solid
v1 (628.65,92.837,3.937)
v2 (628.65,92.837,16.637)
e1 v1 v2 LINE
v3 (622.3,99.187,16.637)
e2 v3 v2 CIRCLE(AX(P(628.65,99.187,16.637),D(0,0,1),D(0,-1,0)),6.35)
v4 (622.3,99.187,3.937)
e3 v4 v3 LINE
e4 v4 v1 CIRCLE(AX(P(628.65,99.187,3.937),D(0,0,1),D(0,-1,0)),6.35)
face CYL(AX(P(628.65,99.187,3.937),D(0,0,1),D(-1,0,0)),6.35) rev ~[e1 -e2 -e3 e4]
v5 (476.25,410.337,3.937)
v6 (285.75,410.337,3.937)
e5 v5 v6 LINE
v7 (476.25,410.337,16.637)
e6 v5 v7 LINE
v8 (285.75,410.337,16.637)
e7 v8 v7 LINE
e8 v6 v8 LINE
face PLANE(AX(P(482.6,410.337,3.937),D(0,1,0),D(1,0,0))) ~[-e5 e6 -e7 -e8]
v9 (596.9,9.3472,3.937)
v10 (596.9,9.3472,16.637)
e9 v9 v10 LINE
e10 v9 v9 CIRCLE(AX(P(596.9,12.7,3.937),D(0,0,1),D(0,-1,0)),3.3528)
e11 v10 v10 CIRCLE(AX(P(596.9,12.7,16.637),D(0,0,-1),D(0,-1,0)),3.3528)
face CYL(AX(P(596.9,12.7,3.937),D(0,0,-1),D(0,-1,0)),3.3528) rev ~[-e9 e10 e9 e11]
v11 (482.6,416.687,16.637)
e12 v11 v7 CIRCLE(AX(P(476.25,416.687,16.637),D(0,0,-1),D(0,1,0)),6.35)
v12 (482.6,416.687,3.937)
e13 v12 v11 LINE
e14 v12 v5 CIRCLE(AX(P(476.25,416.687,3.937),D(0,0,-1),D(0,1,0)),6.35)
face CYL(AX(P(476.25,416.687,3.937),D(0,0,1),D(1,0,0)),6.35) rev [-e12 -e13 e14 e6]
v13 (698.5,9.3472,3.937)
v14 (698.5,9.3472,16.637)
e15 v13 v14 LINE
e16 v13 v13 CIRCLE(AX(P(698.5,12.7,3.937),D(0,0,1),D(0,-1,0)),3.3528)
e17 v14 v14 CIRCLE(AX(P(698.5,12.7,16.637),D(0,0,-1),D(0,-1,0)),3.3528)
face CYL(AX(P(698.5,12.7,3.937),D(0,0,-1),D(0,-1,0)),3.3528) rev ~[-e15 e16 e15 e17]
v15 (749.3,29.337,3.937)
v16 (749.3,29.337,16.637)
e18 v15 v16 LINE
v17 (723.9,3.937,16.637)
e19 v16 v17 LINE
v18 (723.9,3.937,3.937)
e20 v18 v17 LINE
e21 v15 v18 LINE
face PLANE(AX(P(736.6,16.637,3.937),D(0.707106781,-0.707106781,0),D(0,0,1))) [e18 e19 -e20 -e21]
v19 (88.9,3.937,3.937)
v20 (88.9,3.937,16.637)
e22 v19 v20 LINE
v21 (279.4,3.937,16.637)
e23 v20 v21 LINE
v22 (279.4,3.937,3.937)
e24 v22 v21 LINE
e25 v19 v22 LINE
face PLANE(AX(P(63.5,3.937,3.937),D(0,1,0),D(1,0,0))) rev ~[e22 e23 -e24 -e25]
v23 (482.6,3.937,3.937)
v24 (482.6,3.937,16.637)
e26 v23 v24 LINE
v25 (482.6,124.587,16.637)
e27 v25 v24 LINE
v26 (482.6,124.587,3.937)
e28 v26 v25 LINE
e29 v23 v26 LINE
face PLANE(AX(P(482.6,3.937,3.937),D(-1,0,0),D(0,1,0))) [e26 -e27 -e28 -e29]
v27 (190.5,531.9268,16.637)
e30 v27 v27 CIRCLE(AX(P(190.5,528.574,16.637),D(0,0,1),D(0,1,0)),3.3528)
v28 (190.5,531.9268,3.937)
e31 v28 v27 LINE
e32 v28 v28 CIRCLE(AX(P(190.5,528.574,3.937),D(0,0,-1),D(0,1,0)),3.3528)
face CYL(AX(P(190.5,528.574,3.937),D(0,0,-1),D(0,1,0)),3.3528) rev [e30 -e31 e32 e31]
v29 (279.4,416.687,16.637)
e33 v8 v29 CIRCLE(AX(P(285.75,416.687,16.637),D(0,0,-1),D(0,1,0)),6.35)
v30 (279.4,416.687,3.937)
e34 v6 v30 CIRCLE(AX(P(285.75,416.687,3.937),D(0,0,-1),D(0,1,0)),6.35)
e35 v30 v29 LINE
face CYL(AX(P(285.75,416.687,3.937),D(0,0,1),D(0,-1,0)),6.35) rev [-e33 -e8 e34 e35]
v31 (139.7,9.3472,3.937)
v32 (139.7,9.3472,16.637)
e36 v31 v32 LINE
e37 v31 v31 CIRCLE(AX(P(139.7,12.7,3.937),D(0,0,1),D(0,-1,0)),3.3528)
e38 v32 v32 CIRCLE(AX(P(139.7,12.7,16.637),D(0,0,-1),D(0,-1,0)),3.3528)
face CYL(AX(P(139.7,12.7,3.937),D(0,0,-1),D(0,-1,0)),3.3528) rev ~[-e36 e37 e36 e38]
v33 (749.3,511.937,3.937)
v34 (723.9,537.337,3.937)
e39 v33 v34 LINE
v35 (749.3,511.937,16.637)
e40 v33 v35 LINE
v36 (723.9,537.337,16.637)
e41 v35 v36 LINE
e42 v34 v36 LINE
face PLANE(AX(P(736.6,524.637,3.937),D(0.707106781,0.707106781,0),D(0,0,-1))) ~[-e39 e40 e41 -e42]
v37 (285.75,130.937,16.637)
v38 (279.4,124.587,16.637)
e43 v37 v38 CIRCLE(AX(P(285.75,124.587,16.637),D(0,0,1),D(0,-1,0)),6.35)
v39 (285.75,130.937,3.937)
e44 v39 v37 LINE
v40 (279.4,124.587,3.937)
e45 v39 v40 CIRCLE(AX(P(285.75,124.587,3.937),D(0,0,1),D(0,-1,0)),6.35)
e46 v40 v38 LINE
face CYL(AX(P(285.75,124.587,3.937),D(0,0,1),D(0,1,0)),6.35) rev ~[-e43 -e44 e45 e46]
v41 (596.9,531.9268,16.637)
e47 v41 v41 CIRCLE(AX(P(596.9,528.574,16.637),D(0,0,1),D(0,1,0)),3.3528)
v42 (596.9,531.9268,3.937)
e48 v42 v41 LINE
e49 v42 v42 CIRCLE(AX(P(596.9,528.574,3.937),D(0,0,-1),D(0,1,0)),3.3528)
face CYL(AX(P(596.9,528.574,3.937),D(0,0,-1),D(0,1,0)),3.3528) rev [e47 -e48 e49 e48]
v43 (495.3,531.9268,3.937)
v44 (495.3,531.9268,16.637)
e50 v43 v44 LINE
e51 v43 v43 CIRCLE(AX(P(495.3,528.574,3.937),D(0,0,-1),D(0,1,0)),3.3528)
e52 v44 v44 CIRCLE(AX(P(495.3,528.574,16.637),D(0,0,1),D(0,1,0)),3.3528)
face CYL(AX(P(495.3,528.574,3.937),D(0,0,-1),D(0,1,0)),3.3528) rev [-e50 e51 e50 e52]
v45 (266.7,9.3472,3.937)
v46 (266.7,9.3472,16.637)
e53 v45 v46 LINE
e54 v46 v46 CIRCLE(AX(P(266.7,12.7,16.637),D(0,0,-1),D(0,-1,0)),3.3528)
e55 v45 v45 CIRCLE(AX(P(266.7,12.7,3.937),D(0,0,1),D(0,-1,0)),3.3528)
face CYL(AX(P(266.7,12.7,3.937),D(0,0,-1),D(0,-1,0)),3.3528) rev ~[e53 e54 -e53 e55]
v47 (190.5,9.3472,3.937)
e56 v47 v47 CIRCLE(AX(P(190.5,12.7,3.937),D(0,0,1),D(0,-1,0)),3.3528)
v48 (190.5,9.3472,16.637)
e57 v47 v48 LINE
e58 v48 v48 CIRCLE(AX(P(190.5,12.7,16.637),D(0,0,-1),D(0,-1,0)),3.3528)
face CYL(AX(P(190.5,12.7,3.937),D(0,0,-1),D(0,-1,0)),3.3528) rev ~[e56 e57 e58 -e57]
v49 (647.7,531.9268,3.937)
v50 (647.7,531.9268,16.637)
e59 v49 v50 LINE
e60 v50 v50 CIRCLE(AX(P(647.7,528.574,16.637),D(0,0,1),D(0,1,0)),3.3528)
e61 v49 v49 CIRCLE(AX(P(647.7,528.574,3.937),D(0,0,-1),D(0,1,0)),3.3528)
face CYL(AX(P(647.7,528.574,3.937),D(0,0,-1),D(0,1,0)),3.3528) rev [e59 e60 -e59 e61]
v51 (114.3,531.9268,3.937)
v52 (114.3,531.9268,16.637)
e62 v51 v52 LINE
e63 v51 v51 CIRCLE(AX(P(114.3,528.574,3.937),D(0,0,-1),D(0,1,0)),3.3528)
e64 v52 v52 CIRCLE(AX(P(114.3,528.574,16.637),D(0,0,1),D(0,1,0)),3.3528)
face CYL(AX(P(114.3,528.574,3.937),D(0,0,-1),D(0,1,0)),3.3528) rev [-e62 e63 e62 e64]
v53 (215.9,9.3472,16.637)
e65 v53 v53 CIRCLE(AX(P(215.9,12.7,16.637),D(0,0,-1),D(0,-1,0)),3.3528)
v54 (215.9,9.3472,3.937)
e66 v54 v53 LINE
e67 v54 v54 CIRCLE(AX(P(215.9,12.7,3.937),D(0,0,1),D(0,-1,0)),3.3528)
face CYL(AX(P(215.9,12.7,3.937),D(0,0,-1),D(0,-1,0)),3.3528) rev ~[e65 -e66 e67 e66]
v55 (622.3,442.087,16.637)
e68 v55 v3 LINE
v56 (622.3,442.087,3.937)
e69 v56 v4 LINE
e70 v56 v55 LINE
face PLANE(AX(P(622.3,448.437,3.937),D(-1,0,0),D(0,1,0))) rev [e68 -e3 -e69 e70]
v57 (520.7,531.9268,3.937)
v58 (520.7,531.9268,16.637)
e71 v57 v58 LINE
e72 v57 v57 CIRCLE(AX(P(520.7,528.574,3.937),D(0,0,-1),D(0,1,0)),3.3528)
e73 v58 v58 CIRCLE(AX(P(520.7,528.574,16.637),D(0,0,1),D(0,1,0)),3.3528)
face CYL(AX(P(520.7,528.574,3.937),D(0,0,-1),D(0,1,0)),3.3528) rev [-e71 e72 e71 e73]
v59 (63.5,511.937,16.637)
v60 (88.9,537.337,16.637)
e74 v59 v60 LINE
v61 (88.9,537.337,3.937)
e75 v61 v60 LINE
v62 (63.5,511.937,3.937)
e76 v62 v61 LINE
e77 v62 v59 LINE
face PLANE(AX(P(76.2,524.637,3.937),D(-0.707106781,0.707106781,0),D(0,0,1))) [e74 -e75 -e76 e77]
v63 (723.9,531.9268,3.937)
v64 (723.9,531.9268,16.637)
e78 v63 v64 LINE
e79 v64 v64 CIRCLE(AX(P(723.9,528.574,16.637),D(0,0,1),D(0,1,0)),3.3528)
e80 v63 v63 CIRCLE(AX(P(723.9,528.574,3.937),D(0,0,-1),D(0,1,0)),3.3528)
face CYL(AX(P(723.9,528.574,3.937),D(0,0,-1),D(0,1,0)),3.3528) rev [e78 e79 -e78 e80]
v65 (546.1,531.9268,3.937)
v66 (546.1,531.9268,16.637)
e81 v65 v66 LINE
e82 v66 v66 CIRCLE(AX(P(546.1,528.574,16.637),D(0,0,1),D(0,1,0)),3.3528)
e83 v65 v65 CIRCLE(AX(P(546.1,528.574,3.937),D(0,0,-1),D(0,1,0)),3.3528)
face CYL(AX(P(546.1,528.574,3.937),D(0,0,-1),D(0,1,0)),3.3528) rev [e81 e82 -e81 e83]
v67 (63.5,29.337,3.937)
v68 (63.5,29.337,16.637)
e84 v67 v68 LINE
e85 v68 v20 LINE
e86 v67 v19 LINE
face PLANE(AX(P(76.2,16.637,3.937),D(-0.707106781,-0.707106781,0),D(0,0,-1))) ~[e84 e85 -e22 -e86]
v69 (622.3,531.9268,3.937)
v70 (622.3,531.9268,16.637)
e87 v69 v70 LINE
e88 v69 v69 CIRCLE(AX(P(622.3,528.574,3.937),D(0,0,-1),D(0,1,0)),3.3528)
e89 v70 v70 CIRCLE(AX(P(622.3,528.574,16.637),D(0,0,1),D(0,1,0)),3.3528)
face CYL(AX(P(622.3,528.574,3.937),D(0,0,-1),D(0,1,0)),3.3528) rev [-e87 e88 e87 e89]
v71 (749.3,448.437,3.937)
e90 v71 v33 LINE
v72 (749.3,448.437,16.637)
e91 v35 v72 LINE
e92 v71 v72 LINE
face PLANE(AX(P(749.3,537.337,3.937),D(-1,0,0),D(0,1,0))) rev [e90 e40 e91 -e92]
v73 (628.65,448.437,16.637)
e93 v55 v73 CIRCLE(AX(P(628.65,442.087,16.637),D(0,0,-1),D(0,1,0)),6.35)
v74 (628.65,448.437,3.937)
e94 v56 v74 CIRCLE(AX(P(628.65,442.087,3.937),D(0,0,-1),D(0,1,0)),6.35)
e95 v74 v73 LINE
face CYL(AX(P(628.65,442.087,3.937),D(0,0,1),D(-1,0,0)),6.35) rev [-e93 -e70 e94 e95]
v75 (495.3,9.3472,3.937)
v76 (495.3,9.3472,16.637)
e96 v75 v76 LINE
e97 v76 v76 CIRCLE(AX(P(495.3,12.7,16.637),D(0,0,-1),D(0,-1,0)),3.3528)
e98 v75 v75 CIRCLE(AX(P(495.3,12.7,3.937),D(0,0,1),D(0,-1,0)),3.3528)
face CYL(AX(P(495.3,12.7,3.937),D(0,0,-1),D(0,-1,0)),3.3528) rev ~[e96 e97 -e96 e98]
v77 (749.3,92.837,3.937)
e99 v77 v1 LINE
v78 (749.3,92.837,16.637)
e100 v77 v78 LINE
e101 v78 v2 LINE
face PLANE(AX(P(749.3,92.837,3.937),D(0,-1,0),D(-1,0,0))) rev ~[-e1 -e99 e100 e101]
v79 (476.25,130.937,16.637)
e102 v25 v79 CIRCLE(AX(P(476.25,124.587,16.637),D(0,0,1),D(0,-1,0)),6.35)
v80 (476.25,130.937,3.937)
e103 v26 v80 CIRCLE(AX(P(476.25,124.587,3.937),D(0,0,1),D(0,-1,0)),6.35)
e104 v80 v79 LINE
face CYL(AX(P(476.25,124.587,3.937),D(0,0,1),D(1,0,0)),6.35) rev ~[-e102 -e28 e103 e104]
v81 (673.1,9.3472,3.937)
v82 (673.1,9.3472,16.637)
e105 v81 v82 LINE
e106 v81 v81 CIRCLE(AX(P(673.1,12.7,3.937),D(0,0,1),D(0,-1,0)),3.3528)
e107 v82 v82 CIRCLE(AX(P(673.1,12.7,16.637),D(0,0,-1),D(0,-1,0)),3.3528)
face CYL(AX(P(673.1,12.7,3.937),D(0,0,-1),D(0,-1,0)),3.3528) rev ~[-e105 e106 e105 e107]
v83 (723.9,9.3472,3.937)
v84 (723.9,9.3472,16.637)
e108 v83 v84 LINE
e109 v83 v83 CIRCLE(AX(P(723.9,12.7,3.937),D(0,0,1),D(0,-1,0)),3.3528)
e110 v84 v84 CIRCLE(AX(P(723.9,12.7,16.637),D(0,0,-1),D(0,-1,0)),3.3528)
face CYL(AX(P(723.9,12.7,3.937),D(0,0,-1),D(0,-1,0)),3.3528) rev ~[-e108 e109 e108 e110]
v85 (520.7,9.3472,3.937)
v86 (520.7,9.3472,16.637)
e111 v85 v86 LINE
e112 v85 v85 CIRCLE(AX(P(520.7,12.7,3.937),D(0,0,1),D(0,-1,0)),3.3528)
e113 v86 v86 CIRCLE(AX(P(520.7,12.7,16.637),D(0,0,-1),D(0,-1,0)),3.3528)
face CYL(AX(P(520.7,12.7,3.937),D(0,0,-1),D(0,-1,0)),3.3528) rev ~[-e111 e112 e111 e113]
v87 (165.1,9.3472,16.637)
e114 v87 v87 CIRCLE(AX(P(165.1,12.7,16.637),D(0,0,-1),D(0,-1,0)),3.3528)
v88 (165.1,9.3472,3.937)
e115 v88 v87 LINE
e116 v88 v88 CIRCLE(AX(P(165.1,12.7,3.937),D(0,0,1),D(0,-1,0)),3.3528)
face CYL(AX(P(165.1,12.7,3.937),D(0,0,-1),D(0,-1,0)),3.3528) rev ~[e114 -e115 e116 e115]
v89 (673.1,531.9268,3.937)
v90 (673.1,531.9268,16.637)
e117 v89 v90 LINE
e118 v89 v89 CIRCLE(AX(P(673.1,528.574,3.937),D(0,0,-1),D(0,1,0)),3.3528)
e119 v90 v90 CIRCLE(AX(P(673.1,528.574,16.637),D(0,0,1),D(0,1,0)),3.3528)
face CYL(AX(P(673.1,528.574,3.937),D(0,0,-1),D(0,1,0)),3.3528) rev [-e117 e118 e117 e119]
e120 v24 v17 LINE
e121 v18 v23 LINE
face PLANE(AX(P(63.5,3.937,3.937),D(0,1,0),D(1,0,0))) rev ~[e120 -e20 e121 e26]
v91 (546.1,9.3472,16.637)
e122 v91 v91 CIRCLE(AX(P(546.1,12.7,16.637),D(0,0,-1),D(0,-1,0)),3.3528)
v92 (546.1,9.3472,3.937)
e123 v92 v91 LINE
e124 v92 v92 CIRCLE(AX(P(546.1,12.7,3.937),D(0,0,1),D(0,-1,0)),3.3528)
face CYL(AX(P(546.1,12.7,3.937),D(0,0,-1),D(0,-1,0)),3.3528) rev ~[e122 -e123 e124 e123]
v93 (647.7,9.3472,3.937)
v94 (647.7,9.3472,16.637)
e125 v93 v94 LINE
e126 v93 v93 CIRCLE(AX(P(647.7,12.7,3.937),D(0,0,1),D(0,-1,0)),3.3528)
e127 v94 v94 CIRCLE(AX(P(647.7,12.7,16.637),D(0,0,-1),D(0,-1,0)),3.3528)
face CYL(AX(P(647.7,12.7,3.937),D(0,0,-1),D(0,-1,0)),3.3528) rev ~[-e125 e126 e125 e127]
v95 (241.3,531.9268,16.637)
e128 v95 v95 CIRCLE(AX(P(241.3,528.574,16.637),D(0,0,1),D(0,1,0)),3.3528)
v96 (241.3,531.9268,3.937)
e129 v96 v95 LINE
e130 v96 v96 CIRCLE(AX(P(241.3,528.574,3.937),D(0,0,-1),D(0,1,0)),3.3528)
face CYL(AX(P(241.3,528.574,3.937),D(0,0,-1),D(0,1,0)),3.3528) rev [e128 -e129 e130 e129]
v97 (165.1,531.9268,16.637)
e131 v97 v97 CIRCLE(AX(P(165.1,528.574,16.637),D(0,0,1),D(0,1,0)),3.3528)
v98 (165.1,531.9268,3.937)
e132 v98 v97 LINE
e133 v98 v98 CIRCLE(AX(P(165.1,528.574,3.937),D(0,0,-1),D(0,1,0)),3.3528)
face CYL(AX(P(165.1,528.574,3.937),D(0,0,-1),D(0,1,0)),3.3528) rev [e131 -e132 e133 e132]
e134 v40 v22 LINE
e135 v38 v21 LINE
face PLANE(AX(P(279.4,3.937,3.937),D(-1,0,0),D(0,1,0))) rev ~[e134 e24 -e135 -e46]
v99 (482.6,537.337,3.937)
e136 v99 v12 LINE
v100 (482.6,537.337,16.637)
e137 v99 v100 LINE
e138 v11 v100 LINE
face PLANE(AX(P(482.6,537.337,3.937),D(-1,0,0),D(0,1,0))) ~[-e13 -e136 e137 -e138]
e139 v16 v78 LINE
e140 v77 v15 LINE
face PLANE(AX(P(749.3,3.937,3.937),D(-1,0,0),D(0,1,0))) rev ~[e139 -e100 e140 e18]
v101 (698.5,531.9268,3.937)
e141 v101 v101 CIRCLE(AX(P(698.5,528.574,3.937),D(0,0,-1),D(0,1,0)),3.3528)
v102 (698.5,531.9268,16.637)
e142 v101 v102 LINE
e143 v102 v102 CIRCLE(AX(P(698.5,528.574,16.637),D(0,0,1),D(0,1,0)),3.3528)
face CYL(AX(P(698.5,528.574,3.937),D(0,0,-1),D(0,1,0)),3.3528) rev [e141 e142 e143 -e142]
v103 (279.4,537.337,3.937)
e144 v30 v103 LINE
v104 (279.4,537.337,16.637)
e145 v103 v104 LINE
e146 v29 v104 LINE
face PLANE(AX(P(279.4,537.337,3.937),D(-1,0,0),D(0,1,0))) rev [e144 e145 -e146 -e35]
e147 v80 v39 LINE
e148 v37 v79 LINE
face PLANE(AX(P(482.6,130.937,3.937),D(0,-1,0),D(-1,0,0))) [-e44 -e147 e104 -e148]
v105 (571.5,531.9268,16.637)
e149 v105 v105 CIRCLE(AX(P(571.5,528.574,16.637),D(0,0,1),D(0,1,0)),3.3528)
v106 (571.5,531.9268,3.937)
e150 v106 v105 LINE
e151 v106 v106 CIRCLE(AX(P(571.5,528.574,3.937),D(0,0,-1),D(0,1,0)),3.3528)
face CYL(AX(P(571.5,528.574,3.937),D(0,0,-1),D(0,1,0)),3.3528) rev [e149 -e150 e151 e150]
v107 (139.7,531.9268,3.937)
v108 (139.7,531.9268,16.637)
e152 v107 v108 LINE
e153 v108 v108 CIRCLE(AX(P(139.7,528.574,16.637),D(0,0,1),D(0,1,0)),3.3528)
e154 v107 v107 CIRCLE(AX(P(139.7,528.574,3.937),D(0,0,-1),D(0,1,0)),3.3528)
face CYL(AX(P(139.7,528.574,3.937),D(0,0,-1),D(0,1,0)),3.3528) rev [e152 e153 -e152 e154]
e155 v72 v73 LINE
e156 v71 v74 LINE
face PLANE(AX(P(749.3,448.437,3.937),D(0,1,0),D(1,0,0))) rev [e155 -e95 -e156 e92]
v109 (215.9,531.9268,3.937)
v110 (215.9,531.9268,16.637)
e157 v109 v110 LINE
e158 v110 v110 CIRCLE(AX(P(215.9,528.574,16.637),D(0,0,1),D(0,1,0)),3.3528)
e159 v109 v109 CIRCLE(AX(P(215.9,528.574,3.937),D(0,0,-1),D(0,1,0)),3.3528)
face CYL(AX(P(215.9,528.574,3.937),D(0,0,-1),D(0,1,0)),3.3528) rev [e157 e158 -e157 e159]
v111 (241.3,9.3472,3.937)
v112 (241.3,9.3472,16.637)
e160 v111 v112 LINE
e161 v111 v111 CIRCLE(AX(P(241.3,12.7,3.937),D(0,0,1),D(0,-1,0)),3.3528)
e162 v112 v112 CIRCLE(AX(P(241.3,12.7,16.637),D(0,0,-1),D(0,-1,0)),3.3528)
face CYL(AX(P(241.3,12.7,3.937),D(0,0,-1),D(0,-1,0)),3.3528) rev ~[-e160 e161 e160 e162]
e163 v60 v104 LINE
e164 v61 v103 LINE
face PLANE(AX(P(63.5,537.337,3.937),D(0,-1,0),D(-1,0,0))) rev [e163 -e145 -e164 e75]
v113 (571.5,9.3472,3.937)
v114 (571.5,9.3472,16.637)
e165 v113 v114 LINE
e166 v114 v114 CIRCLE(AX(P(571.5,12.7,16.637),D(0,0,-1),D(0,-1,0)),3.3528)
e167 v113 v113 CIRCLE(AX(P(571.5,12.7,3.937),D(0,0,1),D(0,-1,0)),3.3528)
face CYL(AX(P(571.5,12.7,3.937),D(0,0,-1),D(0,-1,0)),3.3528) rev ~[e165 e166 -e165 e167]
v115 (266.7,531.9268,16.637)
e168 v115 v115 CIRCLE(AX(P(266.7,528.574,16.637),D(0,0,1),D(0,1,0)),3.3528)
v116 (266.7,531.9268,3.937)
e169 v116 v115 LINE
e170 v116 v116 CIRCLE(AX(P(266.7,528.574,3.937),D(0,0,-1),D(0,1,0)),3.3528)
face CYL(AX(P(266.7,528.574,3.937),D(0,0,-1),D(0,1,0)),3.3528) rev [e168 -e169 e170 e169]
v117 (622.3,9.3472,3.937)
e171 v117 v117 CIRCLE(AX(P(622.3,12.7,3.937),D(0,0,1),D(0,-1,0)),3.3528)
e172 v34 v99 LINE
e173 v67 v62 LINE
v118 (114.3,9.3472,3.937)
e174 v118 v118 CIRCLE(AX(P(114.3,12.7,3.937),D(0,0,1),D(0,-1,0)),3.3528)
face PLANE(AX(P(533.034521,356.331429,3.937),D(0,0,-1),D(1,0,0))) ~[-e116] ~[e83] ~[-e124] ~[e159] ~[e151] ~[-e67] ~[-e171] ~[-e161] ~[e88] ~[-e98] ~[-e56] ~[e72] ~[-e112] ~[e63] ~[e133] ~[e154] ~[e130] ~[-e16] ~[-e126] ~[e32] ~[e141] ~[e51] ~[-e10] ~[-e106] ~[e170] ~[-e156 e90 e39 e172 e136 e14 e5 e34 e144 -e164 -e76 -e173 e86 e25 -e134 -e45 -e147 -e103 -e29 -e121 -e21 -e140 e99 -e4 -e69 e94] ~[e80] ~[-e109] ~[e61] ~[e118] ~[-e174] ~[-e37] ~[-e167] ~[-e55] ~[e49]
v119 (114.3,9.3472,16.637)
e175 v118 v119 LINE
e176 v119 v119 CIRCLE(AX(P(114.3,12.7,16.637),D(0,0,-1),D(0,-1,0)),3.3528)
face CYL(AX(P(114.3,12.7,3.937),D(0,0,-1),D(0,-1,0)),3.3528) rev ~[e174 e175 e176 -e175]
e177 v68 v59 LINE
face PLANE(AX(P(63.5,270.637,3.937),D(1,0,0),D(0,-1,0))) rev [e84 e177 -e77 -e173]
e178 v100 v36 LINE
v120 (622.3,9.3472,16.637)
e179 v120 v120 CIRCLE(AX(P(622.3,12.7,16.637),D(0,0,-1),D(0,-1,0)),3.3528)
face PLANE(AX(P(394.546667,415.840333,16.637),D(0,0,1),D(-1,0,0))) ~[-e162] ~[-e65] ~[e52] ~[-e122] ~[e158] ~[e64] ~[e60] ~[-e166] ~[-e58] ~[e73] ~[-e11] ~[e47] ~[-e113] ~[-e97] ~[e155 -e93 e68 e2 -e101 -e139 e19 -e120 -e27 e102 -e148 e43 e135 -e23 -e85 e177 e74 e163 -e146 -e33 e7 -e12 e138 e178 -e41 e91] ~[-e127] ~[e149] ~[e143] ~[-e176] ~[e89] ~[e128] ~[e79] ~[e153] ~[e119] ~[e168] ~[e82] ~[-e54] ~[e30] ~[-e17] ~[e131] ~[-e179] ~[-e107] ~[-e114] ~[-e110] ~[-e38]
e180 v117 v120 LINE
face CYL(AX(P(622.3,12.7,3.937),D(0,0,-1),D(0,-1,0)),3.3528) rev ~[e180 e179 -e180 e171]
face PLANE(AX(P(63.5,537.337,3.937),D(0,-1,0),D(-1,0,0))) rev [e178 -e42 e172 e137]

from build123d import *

# Parameters (mm, degrees)
SKETCH1_W                  = 355.6
SKETCH1_H                  = 77.724
BOSS_EXTRUDE1_DEPTH        = 22.225
SKETCH2_W                  = 74.549
SKETCH2_H                  = 19.05
CUT_EXTRUDE1_DEPTH         = 364.67400769
SKETCH3_W                  = 25.4
SKETCH3_H                  = 3.937
CUT_EXTRUDE2_DEPTH         = 817.444922817
SKETCH4_W                  = 330.2
SKETCH4_H                  = 3.175
BOSS_EXTRUDE2_DEPTH        = 15.875
SKETCH5_W                  = 69.85
SKETCH5_H                  = 3.175
BOSS_EXTRUDE3_DEPTH        = 457.2
SKETCH6_W                  = 330.2
SKETCH6_H                  = 3.175
BOSS_EXTRUDE4_DEPTH        = 3.937
SKETCH7_W                  = 330.2
SKETCH7_H                  = 3.175
BOSS_EXTRUDE5_DEPTH        = 15.875
SKETCH8_W                  = 355.6
SKETCH8_H                  = 3.175
BOSS_EXTRUDE6_DEPTH        = 3.937
SKETCH9_W                  = 355.6
SKETCH9_H                  = 3.175
BOSS_EXTRUDE7_DEPTH        = 19.05
SKETCH10_W                 = 76.358809824
SKETCH10_H                 = 3.175
BOSS_EXTRUDE8_DEPTH        = 27.432
SKETCH11_W                 = 124.052954744
SKETCH11_H                 = 3.175
BOSS_EXTRUDE9_DEPTH        = 19.05
DRAFT1_ANGLE               = 30
DRAFT2_ANGLE               = 19
M20_CLEARANCE_HOLE1_D      = 22.225
M20_CLEARANCE_HOLE1_DEPTH  = 19.050025
HOLE1_D                    = 8.128
HOLE1_DEPTH                = 22.225
M25_CLEARANCE_HOLE1_D      = 28.575
M25_CLEARANCE_HOLE1_DEPTH  = 22.225
M3_CLEARANCE_HOLE1_D       = 3.571875
M3_CLEARANCE_HOLE1_DEPTH   = 22.225
M2_CLEARANCE_HOLE1_D       = 2.54
M2_CLEARANCE_HOLE1_DEPTH   = 22.225
M3_5_CLEARANCE_HOLE1_D     = 4.064
M3_5_CLEARANCE_HOLE1_DEPTH = 22.225
HOLE2_D                    = 5.08
HOLE2_DEPTH                = 22.225
M20_CLEARANCE_HOLE2_D      = 22.225
M20_CLEARANCE_HOLE2_DEPTH  = 22.225
M25_CLEARANCE_HOLE2_D      = 28.575
M25_CLEARANCE_HOLE2_DEPTH  = 19.050025
HOLE3_D                    = 5.1054
HOLE3_DEPTH                = 19.050025
HOLE4_D                    = 8.128
HOLE4_DEPTH                = 19.050025
M3_CLEARANCE_HOLE2_D       = 3.571875
M3_CLEARANCE_HOLE2_DEPTH   = 19.050025
M6_CLEARANCE_HOLE1_D       = 6.7056
M6_CLEARANCE_HOLE1_DEPTH   = 22.225
M6_CLEARANCE_HOLE2_D       = 6.7056
M6_CLEARANCE_HOLE2_DEPTH   = 101.219
M5_CLEARANCE_HOLE1_D       = 5.334
M5_CLEARANCE_HOLE1_DEPTH   = 92.837
CHAMFER1_SIZE              = 3.175
FILLET1_R                  = 0.762
FILLET2_R                  = 3.175
FILLET3_R                  = 3.937
SKETCH48_R                 = 4.826
CUT_EXTRUDE5_DEPTH         = 819.8226487
SKETCH59_R                 = 3.3528
BOSS_EXTRUDE13_DEPTH       = 12.7
SKETCH60_W                 = 203.2
SKETCH60_H                 = 127
CUT_EXTRUDE15_DEPTH        = 863.63173587
SKETCH61_W                 = 1115.20744728
SKETCH61_H                 = 561.372878869
CUT_EXTRUDE16_DEPTH        = 863.63173587
FILLET6_R                  = 6.35
CHAMFER2_SIZE              = 25.4


with BuildPart() as part:
    # Sketch1 → Boss-Extrude1 (new body)
    with BuildSketch(Plane(origin=(0, 3.175, 0), x_dir=(1, 0, 0), z_dir=(0, 1, 0))):
        with Locations((635, 34.925)):
            Rectangle(SKETCH1_W, SKETCH1_H)
    extrude(amount=-BOSS_EXTRUDE1_DEPTH)

    # Sketch2 → Cut-Extrude1 (cut, through all)
    with BuildSketch(Plane(origin=(812.8, 0, 0), x_dir=(0, 0, -1), z_dir=(1, 0, 0))):
        with Locations((33.3375, -9.525)):
            Rectangle(SKETCH2_W, SKETCH2_H)
    extrude(amount=-CUT_EXTRUDE1_DEPTH, mode=Mode.SUBTRACT)

    # Sketch3 → Cut-Extrude2 (cut, through all)
    with BuildSketch(Plane(origin=(0, 3.175, 0), x_dir=(-1, 0, 0), z_dir=(0, 1, 0))):
        with Locations((-469.9, 1.9685)):
            Rectangle(SKETCH3_W, SKETCH3_H)
    extrude(amount=-CUT_EXTRUDE2_DEPTH, mode=Mode.SUBTRACT)

    # Sketch4 → Boss-Extrude2 (add)
    with BuildSketch(Plane(origin=(0, 3.175, 0), x_dir=(-1, 0, 0), z_dir=(0, 1, 0))):
        with Locations((-647.7, 2.3495)):
            Rectangle(SKETCH4_W, SKETCH4_H)
    extrude(amount=BOSS_EXTRUDE2_DEPTH)

    # Sketch5 → Boss-Extrude3 (add)
    with BuildSketch(Plane.ZY.offset(-457.2)):
        with Locations((-34.925, 1.5875)):
            Rectangle(SKETCH5_W, SKETCH5_H)
    extrude(amount=BOSS_EXTRUDE3_DEPTH)

    # Sketch6 → Boss-Extrude4 (add)
    with BuildSketch(Plane.XY):
        with Locations((165.1, 1.5875)):
            Rectangle(SKETCH6_W, SKETCH6_H)
    extrude(amount=BOSS_EXTRUDE4_DEPTH)

    # Sketch7 → Boss-Extrude5 (add)
    with BuildSketch(Plane(origin=(0, 3.175, 0), x_dir=(-1, 0, 0), z_dir=(0, 1, 0))):
        with Locations((-165.1, 2.3495)):
            Rectangle(SKETCH7_W, SKETCH7_H)
    extrude(amount=BOSS_EXTRUDE5_DEPTH)

    # Sketch8 → Boss-Extrude6 (add)
    with BuildSketch(Plane(origin=(0, 0, -69.85), x_dir=(-1, 0, 0), z_dir=(0, 0, -1))):
        with Locations((-177.8, 1.5875)):
            Rectangle(SKETCH8_W, SKETCH8_H)
    extrude(amount=BOSS_EXTRUDE6_DEPTH)

    # Sketch9 → Boss-Extrude7 (add)
    with BuildSketch(Plane.XZ):
        with Locations((177.8, -72.1995)):
            Rectangle(SKETCH9_W, SKETCH9_H)
    extrude(amount=BOSS_EXTRUDE7_DEPTH)

    # Sketch10 → Boss-Extrude8 (add)
    with BuildSketch(Plane(origin=(0, 0, -69.85), x_dir=(-1, 0, 0), z_dir=(0, 0, -1))):
        with Locations((-406.4, 1.5875)):
            Rectangle(SKETCH10_W, SKETCH10_H)
    extrude(amount=BOSS_EXTRUDE8_DEPTH)

    # Sketch11 → Boss-Extrude9 (add)
    with BuildSketch(Plane.XY):
        with Locations((406.4, 1.5875)):
            Rectangle(SKETCH11_W, SKETCH11_H)
    extrude(amount=BOSS_EXTRUDE9_DEPTH)

    # Draft1
    draft1_faces = [part.faces().sort_by_distance(p)[0] for p in [
        (344.373522628, 1.5875, 9.525),
        (468.426477372, 1.5875, 9.525),
    ]]
    draft(draft1_faces, Plane.XY.offset(19.05), DRAFT1_ANGLE)

    # Draft2
    draft2_faces = [part.faces().sort_by_distance(p)[0] for p in [
        (368.220595088, 1.5875, -83.566),
        (444.579404912, 1.5875, -83.566),
    ]]
    draft(draft2_faces, Plane(origin=(0, 0, -97.282), x_dir=(-1, 0, 0), z_dir=(0, 0, -1)), DRAFT2_ANGLE)

    # M20 Clearance Hole1
    with Locations(Plane(origin=(0, 0, 0), x_dir=(-1, 0, 0), z_dir=(0, -1, 0))):
        with Locations((-624.254637168, 36.83)):
            Hole(M20_CLEARANCE_HOLE1_D / 2, depth=M20_CLEARANCE_HOLE1_DEPTH)

    # Hole1
    with Locations(Plane(origin=(0, 3.175, 0), x_dir=(1, 0, 0), z_dir=(0, 1, 0))):
        with Locations((229.261562832, 36.83), (229.261562832, 62.23), (229.261562832, 11.43)):
            Hole(HOLE1_D / 2, depth=HOLE1_DEPTH)

    # M25 Clearance Hole1
    with Locations(Plane(origin=(0, 3.175, 0), x_dir=(1, 0, 0), z_dir=(0, 1, 0))):
        with Locations((147.829162832, 36.83)):
            Hole(M25_CLEARANCE_HOLE1_D / 2, depth=M25_CLEARANCE_HOLE1_DEPTH)

    # M3 Clearance Hole1
    with Locations(Plane(origin=(0, 3.175, 0), x_dir=(1, 0, 0), z_dir=(0, 1, 0))):
        with Locations((120.600362832, 65.405), (120.600362832, 8.255), (237.440362832, 8.255), (237.440362832, 65.405)):
            Hole(M3_CLEARANCE_HOLE1_D / 2, depth=M3_CLEARANCE_HOLE1_DEPTH)

    # M2 Clearance Hole1
    with Locations(Plane(origin=(0, 3.175, 0), x_dir=(1, 0, 0), z_dir=(0, 1, 0))):
        with Locations((101.6, 3.175), (101.6, 66.675), (50.8, 66.675), (50.8, 3.175), (762, 66.675), (762, 3.175), (711.2, 3.175), (711.2, 66.675)):
            Hole(M2_CLEARANCE_HOLE1_D / 2, depth=M2_CLEARANCE_HOLE1_DEPTH)

    # M3.5 Clearance Hole1
    with Locations(Plane(origin=(0, 3.175, 0), x_dir=(1, 0, 0), z_dir=(0, 1, 0))):
        with Locations((443.992, 87.85352), (368.808, 87.85352), (361.9119, -1.03886), (450.8881, -1.03886)):
            Hole(M3_5_CLEARANCE_HOLE1_D / 2, depth=M3_5_CLEARANCE_HOLE1_DEPTH)

    # Hole2
    with Locations(Plane(origin=(0, 3.175, 0), x_dir=(1, 0, 0), z_dir=(0, 1, 0))):
        with Locations((438.15, 87.85352), (374.65, 87.85352), (445.0461, -1.03886), (367.7539, -1.03886), (115.520362832, 65.405), (115.520362832, 8.255), (242.520362832, 8.255), (242.520362832, 65.405)):
            Hole(HOLE2_D / 2, depth=HOLE2_DEPTH)

    # M20 Clearance Hole2
    with Locations(Plane(origin=(0, 3.175, 0), x_dir=(1, 0, 0), z_dir=(0, 1, 0))):
        with Locations((406.4, 57.9628), (188.545362832, 36.83)):
            Hole(M20_CLEARANCE_HOLE2_D / 2, depth=M20_CLEARANCE_HOLE2_DEPTH)

    # M25 Clearance Hole2
    with Locations(Plane(origin=(0, 0, 0), x_dir=(-1, 0, 0), z_dir=(0, -1, 0))):
        with Locations((-406.4, 17.272), (-664.970837168, 36.83)):
            Hole(M25_CLEARANCE_HOLE2_D / 2, depth=M25_CLEARANCE_HOLE2_DEPTH)

    # Hole3
    with Locations(Plane(origin=(0, 0, 0), x_dir=(-1, 0, 0), z_dir=(0, -1, 0))):
        with Locations((-570.279637168, 8.255), (-570.279637168, 65.405), (-697.279637168, 65.405), (-697.279637168, 8.255)):
            Hole(HOLE3_D / 2, depth=HOLE3_DEPTH)

    # Hole4
    with Locations(Plane(origin=(0, 0, 0), x_dir=(-1, 0, 0), z_dir=(0, -1, 0))):
        with Locations((-583.538437168, 11.43), (-583.538437168, 36.83), (-583.538437168, 62.23)):
            Hole(HOLE4_D / 2, depth=HOLE4_DEPTH)

    # M3 Clearance Hole2
    with Locations(Plane(origin=(0, 0, 0), x_dir=(-1, 0, 0), z_dir=(0, -1, 0))):
        with Locations((-692.199637168, 8.255), (-692.199637168, 65.405), (-575.359637168, 65.405), (-575.359637168, 8.255)):
            Hole(M3_CLEARANCE_HOLE2_D / 2, depth=M3_CLEARANCE_HOLE2_DEPTH)

    # M6 Clearance Hole1
    with Locations(Plane(origin=(0, 3.175, 0), x_dir=(1, 0, 0), z_dir=(0, 1, 0))):
        with Locations((612.775, 10.287), (498.475, 10.287), (314.325, 10.287), (200.025, 10.287), (628.319218584, 61.976), (184.480781416, 61.976), (690.88, 15.875), (739.902, 9.525), (121.92, 15.875), (72.898, 9.525), (298.874532383, 17.547282407), (513.925467617, 17.547282407), (165.1, 14.732), (266.7, 14.732), (546.1, 14.732), (647.7, 14.732), (330.2, 61.722), (279.4, 61.722), (139.7, 61.722), (25.4, 61.722), (482.6, 61.722), (533.4, 61.722), (673.1, 61.722), (787.4, 61.722), (6.35, 39.497), (806.45, 39.497), (350.8375, -12.8905), (461.9625, -12.8905)):
            Hole(M6_CLEARANCE_HOLE1_D / 2, depth=M6_CLEARANCE_HOLE1_DEPTH)

    # M6 Clearance Hole2
    with Locations(Plane.XY.offset(3.937)):
        with Locations((495.3, 12.7), (520.7, 12.7), (546.1, 12.7), (571.5, 12.7), (596.9, 12.7), (622.3, 12.7), (647.7, 12.7), (673.1, 12.7), (698.5, 12.7), (723.9, 12.7), (749.3, 12.7), (774.7, 12.7), (800.1, 12.7), (317.5, 12.7), (292.1, 12.7), (266.7, 12.7), (241.3, 12.7), (215.9, 12.7), (190.5, 12.7), (165.1, 12.7), (139.7, 12.7), (114.3, 12.7), (88.9, 12.7), (63.5, 12.7), (12.7, 12.7), (38.1, 12.7)):
            Hole(M6_CLEARANCE_HOLE2_D / 2, depth=M6_CLEARANCE_HOLE2_DEPTH)

    # M5 Clearance Hole1
    with Locations(Plane(origin=(0, 0, -73.787), x_dir=(-1, 0, 0), z_dir=(0, 0, -1))):
        with Locations((-469.9, -12.7), (-495.3, -12.7), (-520.7, -12.7), (-546.1, -12.7), (-571.5, -12.7), (-596.9, -12.7), (-622.3, -12.7), (-647.7, -12.7), (-673.1, -12.7), (-698.5, -12.7), (-723.9, -12.7), (-749.3, -12.7), (-774.7, -12.7), (-800.1, -12.7), (-342.9, -12.7), (-317.5, -12.7), (-292.1, -12.7), (-266.7, -12.7), (-241.3, -12.7), (-215.9, -12.7), (-190.5, -12.7), (-165.1, -12.7), (-139.7, -12.7), (-114.3, -12.7), (-88.9, -12.7), (-63.5, -12.7), (-38.1, -12.7), (-12.7, -12.7)):
            Hole(M5_CLEARANCE_HOLE1_D / 2, depth=M5_CLEARANCE_HOLE1_DEPTH)

    # Chamfer1
    chamfer1_edges = [part.edges().sort_by_distance(p)[0] for p in [
        (482.6, 19.05, 2.3495),
        (0, 19.05, 2.3495),
        (812.8, 19.05, 2.3495),
        (812.8, -19.05, -72.1995),
        (457.2, -19.05, -72.1995),
        (0, -19.05, -72.1995),
        (330.2, 19.05, 2.3495),
        (355.6, -19.05, -72.1995),
    ]]
    chamfer(chamfer1_edges, length=CHAMFER1_SIZE)

    # Fillet1
    fillet1_edges = [part.edges().sort_by_distance(p)[0] for p in [
        (647.7, 3.175, 0.762),
        (177.8, 0, -70.612),
        (635, 0, -70.612),
        (165.1, 3.175, 0.762),
    ]]
    fillet(fillet1_edges, radius=FILLET1_R)

    # Fillet2
    fillet2_edges = [part.edges().sort_by_distance(p)[0] for p in [
        (368.220595088, 1.5875, -97.282),
        (333.375, 1.5875, 0),
        (344.373522628, 1.5875, 19.05),
        (444.579404912, 1.5875, -97.282),
        (358.775, 1.5875, -69.85),
        (479.425, 1.5875, 0),
        (468.426477372, 1.5875, 19.05),
        (454.025, 1.5875, -69.85),
    ]]
    fillet(fillet2_edges, radius=FILLET2_R)

    # Fillet3
    fillet3_edges = [part.edges().sort_by_distance(p)[0] for p in [
        (165.1, 0, 3.937),
        (647.7, 0, 3.937),
        (635, 3.175, -73.787),
        (177.8, 3.175, -73.787),
    ]]
    fillet(fillet3_edges, radius=FILLET3_R)

    # Sketch48 → Cut-Extrude5 (cut, through all)
    with BuildSketch(Plane(origin=(0, 0, 0), x_dir=(-1, 0, 0), z_dir=(0, -1, 0))):
        with Locations(Location((-601.438495912, 19.05, 0), (0, 0, 90))):
            Circle(SKETCH48_R)
        with Locations(Location((-628.947697627, 19.05, 0), (0, 0, 90))):
            Circle(SKETCH48_R)
        with Locations(Location((-701.450372003, 20.828, 0), (0, 0, 90))):
            Circle(SKETCH48_R)
        with Locations(Location((-726.460886343, 20.828, 0), (0, 0, 90))):
            Circle(SKETCH48_R)
        with Locations(Location((-568.924874752, 19.05, 0), (0, 0, 90))):
            Circle(SKETCH48_R)
        with Locations(Location((-678.054138508, 20.828, 0), (0, 0, 90))):
            Circle(SKETCH48_R)
        with Locations(Location((-243.875125248, 19.05, 0), (0, 0, 270))):
            Circle(SKETCH48_R)
        with Locations(Location((-211.361504088, 19.05, 0), (0, 0, 270))):
            Circle(SKETCH48_R)
        with Locations(Location((-183.852302373, 19.05, 0), (0, 0, 270))):
            Circle(SKETCH48_R)
        with Locations(Location((-134.745861492, 20.828, 0), (0, 0, 270))):
            Circle(SKETCH48_R)
        with Locations(Location((-111.349627997, 20.828, 0), (0, 0, 270))):
            Circle(SKETCH48_R)
        with Locations(Location((-86.339113657, 20.828, 0), (0, 0, 270))):
            Circle(SKETCH48_R)
    extrude(amount=-CUT_EXTRUDE5_DEPTH, mode=Mode.SUBTRACT)

    # Sketch59 → Boss-Extrude13 (add)
    with BuildSketch(Plane(origin=(0, 0, 3.937), x_dir=(-1, 0, 0), z_dir=(0, 0, -1))):
        Polygon((-63.5, 3.937), (-749.3, 3.937), (-749.3, 92.837), (-622.3, 92.837), (-622.3, 270.637), (-63.5, 270.637), align=None)
        with Locations(Location((-596.9, 12.7, 0), (0, 0, 270))):
            Circle(SKETCH59_R, mode=Mode.SUBTRACT)
        with Locations(Location((-571.5, 12.7, 0), (0, 0, 270))):
            Circle(SKETCH59_R, mode=Mode.SUBTRACT)
        with Locations(Location((-546.1, 12.7, 0), (0, 0, 270))):
            Circle(SKETCH59_R, mode=Mode.SUBTRACT)
        with Locations(Location((-520.7, 12.7, 0), (0, 0, 270))):
            Circle(SKETCH59_R, mode=Mode.SUBTRACT)
        with Locations(Location((-495.3, 12.7, 0), (0, 0, 270))):
            Circle(SKETCH59_R, mode=Mode.SUBTRACT)
        with Locations(Location((-317.5, 12.7, 0), (0, 0, 270))):
            Circle(SKETCH59_R, mode=Mode.SUBTRACT)
        with Locations(Location((-292.1, 12.7, 0), (0, 0, 270))):
            Circle(SKETCH59_R, mode=Mode.SUBTRACT)
        with Locations(Location((-266.7, 12.7, 0), (0, 0, 270))):
            Circle(SKETCH59_R, mode=Mode.SUBTRACT)
        with Locations(Location((-241.3, 12.7, 0), (0, 0, 270))):
            Circle(SKETCH59_R, mode=Mode.SUBTRACT)
        with Locations(Location((-215.9, 12.7, 0), (0, 0, 270))):
            Circle(SKETCH59_R, mode=Mode.SUBTRACT)
        with Locations(Location((-190.5, 12.7, 0), (0, 0, 270))):
            Circle(SKETCH59_R, mode=Mode.SUBTRACT)
        with Locations(Location((-165.1, 12.7, 0), (0, 0, 270))):
            Circle(SKETCH59_R, mode=Mode.SUBTRACT)
        with Locations(Location((-139.7, 12.7, 0), (0, 0, 270))):
            Circle(SKETCH59_R, mode=Mode.SUBTRACT)
        with Locations(Location((-114.3, 12.7, 0), (0, 0, 270))):
            Circle(SKETCH59_R, mode=Mode.SUBTRACT)
        with Locations(Location((-723.9, 12.7, 0), (0, 0, 270))):
            Circle(SKETCH59_R, mode=Mode.SUBTRACT)
        with Locations(Location((-698.5, 12.7, 0), (0, 0, 270))):
            Circle(SKETCH59_R, mode=Mode.SUBTRACT)
        with Locations(Location((-673.1, 12.7, 0), (0, 0, 270))):
            Circle(SKETCH59_R, mode=Mode.SUBTRACT)
        with Locations(Location((-647.7, 12.7, 0), (0, 0, 270))):
            Circle(SKETCH59_R, mode=Mode.SUBTRACT)
        with Locations(Location((-622.3, 12.7, 0), (0, 0, 270))):
            Circle(SKETCH59_R, mode=Mode.SUBTRACT)
    extrude(amount=-BOSS_EXTRUDE13_DEPTH)

    # Sketch60 → Cut-Extrude15 (cut, through all)
    with BuildSketch(Plane(origin=(0, 0, 3.937), x_dir=(-1, 0, 0), z_dir=(0, 0, -1))):
        with Locations((-381, 67.437)):
            Rectangle(SKETCH60_W, SKETCH60_H)
    extrude(amount=-CUT_EXTRUDE15_DEPTH, mode=Mode.SUBTRACT)

    # Sketch61 → Cut-Extrude16 (cut, through all)
    with BuildSketch(Plane(origin=(0, 0, 3.937), x_dir=(-1, 0, 0), z_dir=(0, 0, -1))):
        with Locations((-533.034521332, 184.9425713)):
            Rectangle(SKETCH61_W, SKETCH61_H)
    extrude(amount=CUT_EXTRUDE16_DEPTH, mode=Mode.SUBTRACT)


with BuildPart() as cut_extrude16_kept_piece:
    # of the separate pieces the step leaves, the one the design keeps (cut_extrude16_pieces_kept)
    add(part.part.solids().sort_by_distance((749.3, 3.937, 3.937))[0])

    # Fillet6
    fillet6_edges = [cut_extrude16_kept_piece.edges().sort_by_distance(p)[0] for p in [
        (622.3, 92.837, 10.287),
        (482.6, 130.937, 10.287),
        (279.4, 130.937, 10.287),
    ]]
    fillet(fillet6_edges, radius=FILLET6_R)

    # Chamfer2
    chamfer2_edges = [cut_extrude16_kept_piece.edges().sort_by_distance(p)[0] for p in [
        (63.5, 3.937, 10.287),
        (749.3, 3.937, 10.287),
    ]]
    chamfer(chamfer2_edges, length=CHAMFER2_SIZE)

    # Mirror1: Cut-Extrude16 kept piece across plane


with BuildPart() as cut_extrude16_kept_piece_1:
    add(cut_extrude16_kept_piece.part)
    add(cut_extrude16_kept_piece.part.mirror(Plane(origin=(63.5, 270.637, 16.637), x_dir=(0, 0, 1), z_dir=(0, 1, 0))))


solid = cut_extrude16_kept_piece_1.part
